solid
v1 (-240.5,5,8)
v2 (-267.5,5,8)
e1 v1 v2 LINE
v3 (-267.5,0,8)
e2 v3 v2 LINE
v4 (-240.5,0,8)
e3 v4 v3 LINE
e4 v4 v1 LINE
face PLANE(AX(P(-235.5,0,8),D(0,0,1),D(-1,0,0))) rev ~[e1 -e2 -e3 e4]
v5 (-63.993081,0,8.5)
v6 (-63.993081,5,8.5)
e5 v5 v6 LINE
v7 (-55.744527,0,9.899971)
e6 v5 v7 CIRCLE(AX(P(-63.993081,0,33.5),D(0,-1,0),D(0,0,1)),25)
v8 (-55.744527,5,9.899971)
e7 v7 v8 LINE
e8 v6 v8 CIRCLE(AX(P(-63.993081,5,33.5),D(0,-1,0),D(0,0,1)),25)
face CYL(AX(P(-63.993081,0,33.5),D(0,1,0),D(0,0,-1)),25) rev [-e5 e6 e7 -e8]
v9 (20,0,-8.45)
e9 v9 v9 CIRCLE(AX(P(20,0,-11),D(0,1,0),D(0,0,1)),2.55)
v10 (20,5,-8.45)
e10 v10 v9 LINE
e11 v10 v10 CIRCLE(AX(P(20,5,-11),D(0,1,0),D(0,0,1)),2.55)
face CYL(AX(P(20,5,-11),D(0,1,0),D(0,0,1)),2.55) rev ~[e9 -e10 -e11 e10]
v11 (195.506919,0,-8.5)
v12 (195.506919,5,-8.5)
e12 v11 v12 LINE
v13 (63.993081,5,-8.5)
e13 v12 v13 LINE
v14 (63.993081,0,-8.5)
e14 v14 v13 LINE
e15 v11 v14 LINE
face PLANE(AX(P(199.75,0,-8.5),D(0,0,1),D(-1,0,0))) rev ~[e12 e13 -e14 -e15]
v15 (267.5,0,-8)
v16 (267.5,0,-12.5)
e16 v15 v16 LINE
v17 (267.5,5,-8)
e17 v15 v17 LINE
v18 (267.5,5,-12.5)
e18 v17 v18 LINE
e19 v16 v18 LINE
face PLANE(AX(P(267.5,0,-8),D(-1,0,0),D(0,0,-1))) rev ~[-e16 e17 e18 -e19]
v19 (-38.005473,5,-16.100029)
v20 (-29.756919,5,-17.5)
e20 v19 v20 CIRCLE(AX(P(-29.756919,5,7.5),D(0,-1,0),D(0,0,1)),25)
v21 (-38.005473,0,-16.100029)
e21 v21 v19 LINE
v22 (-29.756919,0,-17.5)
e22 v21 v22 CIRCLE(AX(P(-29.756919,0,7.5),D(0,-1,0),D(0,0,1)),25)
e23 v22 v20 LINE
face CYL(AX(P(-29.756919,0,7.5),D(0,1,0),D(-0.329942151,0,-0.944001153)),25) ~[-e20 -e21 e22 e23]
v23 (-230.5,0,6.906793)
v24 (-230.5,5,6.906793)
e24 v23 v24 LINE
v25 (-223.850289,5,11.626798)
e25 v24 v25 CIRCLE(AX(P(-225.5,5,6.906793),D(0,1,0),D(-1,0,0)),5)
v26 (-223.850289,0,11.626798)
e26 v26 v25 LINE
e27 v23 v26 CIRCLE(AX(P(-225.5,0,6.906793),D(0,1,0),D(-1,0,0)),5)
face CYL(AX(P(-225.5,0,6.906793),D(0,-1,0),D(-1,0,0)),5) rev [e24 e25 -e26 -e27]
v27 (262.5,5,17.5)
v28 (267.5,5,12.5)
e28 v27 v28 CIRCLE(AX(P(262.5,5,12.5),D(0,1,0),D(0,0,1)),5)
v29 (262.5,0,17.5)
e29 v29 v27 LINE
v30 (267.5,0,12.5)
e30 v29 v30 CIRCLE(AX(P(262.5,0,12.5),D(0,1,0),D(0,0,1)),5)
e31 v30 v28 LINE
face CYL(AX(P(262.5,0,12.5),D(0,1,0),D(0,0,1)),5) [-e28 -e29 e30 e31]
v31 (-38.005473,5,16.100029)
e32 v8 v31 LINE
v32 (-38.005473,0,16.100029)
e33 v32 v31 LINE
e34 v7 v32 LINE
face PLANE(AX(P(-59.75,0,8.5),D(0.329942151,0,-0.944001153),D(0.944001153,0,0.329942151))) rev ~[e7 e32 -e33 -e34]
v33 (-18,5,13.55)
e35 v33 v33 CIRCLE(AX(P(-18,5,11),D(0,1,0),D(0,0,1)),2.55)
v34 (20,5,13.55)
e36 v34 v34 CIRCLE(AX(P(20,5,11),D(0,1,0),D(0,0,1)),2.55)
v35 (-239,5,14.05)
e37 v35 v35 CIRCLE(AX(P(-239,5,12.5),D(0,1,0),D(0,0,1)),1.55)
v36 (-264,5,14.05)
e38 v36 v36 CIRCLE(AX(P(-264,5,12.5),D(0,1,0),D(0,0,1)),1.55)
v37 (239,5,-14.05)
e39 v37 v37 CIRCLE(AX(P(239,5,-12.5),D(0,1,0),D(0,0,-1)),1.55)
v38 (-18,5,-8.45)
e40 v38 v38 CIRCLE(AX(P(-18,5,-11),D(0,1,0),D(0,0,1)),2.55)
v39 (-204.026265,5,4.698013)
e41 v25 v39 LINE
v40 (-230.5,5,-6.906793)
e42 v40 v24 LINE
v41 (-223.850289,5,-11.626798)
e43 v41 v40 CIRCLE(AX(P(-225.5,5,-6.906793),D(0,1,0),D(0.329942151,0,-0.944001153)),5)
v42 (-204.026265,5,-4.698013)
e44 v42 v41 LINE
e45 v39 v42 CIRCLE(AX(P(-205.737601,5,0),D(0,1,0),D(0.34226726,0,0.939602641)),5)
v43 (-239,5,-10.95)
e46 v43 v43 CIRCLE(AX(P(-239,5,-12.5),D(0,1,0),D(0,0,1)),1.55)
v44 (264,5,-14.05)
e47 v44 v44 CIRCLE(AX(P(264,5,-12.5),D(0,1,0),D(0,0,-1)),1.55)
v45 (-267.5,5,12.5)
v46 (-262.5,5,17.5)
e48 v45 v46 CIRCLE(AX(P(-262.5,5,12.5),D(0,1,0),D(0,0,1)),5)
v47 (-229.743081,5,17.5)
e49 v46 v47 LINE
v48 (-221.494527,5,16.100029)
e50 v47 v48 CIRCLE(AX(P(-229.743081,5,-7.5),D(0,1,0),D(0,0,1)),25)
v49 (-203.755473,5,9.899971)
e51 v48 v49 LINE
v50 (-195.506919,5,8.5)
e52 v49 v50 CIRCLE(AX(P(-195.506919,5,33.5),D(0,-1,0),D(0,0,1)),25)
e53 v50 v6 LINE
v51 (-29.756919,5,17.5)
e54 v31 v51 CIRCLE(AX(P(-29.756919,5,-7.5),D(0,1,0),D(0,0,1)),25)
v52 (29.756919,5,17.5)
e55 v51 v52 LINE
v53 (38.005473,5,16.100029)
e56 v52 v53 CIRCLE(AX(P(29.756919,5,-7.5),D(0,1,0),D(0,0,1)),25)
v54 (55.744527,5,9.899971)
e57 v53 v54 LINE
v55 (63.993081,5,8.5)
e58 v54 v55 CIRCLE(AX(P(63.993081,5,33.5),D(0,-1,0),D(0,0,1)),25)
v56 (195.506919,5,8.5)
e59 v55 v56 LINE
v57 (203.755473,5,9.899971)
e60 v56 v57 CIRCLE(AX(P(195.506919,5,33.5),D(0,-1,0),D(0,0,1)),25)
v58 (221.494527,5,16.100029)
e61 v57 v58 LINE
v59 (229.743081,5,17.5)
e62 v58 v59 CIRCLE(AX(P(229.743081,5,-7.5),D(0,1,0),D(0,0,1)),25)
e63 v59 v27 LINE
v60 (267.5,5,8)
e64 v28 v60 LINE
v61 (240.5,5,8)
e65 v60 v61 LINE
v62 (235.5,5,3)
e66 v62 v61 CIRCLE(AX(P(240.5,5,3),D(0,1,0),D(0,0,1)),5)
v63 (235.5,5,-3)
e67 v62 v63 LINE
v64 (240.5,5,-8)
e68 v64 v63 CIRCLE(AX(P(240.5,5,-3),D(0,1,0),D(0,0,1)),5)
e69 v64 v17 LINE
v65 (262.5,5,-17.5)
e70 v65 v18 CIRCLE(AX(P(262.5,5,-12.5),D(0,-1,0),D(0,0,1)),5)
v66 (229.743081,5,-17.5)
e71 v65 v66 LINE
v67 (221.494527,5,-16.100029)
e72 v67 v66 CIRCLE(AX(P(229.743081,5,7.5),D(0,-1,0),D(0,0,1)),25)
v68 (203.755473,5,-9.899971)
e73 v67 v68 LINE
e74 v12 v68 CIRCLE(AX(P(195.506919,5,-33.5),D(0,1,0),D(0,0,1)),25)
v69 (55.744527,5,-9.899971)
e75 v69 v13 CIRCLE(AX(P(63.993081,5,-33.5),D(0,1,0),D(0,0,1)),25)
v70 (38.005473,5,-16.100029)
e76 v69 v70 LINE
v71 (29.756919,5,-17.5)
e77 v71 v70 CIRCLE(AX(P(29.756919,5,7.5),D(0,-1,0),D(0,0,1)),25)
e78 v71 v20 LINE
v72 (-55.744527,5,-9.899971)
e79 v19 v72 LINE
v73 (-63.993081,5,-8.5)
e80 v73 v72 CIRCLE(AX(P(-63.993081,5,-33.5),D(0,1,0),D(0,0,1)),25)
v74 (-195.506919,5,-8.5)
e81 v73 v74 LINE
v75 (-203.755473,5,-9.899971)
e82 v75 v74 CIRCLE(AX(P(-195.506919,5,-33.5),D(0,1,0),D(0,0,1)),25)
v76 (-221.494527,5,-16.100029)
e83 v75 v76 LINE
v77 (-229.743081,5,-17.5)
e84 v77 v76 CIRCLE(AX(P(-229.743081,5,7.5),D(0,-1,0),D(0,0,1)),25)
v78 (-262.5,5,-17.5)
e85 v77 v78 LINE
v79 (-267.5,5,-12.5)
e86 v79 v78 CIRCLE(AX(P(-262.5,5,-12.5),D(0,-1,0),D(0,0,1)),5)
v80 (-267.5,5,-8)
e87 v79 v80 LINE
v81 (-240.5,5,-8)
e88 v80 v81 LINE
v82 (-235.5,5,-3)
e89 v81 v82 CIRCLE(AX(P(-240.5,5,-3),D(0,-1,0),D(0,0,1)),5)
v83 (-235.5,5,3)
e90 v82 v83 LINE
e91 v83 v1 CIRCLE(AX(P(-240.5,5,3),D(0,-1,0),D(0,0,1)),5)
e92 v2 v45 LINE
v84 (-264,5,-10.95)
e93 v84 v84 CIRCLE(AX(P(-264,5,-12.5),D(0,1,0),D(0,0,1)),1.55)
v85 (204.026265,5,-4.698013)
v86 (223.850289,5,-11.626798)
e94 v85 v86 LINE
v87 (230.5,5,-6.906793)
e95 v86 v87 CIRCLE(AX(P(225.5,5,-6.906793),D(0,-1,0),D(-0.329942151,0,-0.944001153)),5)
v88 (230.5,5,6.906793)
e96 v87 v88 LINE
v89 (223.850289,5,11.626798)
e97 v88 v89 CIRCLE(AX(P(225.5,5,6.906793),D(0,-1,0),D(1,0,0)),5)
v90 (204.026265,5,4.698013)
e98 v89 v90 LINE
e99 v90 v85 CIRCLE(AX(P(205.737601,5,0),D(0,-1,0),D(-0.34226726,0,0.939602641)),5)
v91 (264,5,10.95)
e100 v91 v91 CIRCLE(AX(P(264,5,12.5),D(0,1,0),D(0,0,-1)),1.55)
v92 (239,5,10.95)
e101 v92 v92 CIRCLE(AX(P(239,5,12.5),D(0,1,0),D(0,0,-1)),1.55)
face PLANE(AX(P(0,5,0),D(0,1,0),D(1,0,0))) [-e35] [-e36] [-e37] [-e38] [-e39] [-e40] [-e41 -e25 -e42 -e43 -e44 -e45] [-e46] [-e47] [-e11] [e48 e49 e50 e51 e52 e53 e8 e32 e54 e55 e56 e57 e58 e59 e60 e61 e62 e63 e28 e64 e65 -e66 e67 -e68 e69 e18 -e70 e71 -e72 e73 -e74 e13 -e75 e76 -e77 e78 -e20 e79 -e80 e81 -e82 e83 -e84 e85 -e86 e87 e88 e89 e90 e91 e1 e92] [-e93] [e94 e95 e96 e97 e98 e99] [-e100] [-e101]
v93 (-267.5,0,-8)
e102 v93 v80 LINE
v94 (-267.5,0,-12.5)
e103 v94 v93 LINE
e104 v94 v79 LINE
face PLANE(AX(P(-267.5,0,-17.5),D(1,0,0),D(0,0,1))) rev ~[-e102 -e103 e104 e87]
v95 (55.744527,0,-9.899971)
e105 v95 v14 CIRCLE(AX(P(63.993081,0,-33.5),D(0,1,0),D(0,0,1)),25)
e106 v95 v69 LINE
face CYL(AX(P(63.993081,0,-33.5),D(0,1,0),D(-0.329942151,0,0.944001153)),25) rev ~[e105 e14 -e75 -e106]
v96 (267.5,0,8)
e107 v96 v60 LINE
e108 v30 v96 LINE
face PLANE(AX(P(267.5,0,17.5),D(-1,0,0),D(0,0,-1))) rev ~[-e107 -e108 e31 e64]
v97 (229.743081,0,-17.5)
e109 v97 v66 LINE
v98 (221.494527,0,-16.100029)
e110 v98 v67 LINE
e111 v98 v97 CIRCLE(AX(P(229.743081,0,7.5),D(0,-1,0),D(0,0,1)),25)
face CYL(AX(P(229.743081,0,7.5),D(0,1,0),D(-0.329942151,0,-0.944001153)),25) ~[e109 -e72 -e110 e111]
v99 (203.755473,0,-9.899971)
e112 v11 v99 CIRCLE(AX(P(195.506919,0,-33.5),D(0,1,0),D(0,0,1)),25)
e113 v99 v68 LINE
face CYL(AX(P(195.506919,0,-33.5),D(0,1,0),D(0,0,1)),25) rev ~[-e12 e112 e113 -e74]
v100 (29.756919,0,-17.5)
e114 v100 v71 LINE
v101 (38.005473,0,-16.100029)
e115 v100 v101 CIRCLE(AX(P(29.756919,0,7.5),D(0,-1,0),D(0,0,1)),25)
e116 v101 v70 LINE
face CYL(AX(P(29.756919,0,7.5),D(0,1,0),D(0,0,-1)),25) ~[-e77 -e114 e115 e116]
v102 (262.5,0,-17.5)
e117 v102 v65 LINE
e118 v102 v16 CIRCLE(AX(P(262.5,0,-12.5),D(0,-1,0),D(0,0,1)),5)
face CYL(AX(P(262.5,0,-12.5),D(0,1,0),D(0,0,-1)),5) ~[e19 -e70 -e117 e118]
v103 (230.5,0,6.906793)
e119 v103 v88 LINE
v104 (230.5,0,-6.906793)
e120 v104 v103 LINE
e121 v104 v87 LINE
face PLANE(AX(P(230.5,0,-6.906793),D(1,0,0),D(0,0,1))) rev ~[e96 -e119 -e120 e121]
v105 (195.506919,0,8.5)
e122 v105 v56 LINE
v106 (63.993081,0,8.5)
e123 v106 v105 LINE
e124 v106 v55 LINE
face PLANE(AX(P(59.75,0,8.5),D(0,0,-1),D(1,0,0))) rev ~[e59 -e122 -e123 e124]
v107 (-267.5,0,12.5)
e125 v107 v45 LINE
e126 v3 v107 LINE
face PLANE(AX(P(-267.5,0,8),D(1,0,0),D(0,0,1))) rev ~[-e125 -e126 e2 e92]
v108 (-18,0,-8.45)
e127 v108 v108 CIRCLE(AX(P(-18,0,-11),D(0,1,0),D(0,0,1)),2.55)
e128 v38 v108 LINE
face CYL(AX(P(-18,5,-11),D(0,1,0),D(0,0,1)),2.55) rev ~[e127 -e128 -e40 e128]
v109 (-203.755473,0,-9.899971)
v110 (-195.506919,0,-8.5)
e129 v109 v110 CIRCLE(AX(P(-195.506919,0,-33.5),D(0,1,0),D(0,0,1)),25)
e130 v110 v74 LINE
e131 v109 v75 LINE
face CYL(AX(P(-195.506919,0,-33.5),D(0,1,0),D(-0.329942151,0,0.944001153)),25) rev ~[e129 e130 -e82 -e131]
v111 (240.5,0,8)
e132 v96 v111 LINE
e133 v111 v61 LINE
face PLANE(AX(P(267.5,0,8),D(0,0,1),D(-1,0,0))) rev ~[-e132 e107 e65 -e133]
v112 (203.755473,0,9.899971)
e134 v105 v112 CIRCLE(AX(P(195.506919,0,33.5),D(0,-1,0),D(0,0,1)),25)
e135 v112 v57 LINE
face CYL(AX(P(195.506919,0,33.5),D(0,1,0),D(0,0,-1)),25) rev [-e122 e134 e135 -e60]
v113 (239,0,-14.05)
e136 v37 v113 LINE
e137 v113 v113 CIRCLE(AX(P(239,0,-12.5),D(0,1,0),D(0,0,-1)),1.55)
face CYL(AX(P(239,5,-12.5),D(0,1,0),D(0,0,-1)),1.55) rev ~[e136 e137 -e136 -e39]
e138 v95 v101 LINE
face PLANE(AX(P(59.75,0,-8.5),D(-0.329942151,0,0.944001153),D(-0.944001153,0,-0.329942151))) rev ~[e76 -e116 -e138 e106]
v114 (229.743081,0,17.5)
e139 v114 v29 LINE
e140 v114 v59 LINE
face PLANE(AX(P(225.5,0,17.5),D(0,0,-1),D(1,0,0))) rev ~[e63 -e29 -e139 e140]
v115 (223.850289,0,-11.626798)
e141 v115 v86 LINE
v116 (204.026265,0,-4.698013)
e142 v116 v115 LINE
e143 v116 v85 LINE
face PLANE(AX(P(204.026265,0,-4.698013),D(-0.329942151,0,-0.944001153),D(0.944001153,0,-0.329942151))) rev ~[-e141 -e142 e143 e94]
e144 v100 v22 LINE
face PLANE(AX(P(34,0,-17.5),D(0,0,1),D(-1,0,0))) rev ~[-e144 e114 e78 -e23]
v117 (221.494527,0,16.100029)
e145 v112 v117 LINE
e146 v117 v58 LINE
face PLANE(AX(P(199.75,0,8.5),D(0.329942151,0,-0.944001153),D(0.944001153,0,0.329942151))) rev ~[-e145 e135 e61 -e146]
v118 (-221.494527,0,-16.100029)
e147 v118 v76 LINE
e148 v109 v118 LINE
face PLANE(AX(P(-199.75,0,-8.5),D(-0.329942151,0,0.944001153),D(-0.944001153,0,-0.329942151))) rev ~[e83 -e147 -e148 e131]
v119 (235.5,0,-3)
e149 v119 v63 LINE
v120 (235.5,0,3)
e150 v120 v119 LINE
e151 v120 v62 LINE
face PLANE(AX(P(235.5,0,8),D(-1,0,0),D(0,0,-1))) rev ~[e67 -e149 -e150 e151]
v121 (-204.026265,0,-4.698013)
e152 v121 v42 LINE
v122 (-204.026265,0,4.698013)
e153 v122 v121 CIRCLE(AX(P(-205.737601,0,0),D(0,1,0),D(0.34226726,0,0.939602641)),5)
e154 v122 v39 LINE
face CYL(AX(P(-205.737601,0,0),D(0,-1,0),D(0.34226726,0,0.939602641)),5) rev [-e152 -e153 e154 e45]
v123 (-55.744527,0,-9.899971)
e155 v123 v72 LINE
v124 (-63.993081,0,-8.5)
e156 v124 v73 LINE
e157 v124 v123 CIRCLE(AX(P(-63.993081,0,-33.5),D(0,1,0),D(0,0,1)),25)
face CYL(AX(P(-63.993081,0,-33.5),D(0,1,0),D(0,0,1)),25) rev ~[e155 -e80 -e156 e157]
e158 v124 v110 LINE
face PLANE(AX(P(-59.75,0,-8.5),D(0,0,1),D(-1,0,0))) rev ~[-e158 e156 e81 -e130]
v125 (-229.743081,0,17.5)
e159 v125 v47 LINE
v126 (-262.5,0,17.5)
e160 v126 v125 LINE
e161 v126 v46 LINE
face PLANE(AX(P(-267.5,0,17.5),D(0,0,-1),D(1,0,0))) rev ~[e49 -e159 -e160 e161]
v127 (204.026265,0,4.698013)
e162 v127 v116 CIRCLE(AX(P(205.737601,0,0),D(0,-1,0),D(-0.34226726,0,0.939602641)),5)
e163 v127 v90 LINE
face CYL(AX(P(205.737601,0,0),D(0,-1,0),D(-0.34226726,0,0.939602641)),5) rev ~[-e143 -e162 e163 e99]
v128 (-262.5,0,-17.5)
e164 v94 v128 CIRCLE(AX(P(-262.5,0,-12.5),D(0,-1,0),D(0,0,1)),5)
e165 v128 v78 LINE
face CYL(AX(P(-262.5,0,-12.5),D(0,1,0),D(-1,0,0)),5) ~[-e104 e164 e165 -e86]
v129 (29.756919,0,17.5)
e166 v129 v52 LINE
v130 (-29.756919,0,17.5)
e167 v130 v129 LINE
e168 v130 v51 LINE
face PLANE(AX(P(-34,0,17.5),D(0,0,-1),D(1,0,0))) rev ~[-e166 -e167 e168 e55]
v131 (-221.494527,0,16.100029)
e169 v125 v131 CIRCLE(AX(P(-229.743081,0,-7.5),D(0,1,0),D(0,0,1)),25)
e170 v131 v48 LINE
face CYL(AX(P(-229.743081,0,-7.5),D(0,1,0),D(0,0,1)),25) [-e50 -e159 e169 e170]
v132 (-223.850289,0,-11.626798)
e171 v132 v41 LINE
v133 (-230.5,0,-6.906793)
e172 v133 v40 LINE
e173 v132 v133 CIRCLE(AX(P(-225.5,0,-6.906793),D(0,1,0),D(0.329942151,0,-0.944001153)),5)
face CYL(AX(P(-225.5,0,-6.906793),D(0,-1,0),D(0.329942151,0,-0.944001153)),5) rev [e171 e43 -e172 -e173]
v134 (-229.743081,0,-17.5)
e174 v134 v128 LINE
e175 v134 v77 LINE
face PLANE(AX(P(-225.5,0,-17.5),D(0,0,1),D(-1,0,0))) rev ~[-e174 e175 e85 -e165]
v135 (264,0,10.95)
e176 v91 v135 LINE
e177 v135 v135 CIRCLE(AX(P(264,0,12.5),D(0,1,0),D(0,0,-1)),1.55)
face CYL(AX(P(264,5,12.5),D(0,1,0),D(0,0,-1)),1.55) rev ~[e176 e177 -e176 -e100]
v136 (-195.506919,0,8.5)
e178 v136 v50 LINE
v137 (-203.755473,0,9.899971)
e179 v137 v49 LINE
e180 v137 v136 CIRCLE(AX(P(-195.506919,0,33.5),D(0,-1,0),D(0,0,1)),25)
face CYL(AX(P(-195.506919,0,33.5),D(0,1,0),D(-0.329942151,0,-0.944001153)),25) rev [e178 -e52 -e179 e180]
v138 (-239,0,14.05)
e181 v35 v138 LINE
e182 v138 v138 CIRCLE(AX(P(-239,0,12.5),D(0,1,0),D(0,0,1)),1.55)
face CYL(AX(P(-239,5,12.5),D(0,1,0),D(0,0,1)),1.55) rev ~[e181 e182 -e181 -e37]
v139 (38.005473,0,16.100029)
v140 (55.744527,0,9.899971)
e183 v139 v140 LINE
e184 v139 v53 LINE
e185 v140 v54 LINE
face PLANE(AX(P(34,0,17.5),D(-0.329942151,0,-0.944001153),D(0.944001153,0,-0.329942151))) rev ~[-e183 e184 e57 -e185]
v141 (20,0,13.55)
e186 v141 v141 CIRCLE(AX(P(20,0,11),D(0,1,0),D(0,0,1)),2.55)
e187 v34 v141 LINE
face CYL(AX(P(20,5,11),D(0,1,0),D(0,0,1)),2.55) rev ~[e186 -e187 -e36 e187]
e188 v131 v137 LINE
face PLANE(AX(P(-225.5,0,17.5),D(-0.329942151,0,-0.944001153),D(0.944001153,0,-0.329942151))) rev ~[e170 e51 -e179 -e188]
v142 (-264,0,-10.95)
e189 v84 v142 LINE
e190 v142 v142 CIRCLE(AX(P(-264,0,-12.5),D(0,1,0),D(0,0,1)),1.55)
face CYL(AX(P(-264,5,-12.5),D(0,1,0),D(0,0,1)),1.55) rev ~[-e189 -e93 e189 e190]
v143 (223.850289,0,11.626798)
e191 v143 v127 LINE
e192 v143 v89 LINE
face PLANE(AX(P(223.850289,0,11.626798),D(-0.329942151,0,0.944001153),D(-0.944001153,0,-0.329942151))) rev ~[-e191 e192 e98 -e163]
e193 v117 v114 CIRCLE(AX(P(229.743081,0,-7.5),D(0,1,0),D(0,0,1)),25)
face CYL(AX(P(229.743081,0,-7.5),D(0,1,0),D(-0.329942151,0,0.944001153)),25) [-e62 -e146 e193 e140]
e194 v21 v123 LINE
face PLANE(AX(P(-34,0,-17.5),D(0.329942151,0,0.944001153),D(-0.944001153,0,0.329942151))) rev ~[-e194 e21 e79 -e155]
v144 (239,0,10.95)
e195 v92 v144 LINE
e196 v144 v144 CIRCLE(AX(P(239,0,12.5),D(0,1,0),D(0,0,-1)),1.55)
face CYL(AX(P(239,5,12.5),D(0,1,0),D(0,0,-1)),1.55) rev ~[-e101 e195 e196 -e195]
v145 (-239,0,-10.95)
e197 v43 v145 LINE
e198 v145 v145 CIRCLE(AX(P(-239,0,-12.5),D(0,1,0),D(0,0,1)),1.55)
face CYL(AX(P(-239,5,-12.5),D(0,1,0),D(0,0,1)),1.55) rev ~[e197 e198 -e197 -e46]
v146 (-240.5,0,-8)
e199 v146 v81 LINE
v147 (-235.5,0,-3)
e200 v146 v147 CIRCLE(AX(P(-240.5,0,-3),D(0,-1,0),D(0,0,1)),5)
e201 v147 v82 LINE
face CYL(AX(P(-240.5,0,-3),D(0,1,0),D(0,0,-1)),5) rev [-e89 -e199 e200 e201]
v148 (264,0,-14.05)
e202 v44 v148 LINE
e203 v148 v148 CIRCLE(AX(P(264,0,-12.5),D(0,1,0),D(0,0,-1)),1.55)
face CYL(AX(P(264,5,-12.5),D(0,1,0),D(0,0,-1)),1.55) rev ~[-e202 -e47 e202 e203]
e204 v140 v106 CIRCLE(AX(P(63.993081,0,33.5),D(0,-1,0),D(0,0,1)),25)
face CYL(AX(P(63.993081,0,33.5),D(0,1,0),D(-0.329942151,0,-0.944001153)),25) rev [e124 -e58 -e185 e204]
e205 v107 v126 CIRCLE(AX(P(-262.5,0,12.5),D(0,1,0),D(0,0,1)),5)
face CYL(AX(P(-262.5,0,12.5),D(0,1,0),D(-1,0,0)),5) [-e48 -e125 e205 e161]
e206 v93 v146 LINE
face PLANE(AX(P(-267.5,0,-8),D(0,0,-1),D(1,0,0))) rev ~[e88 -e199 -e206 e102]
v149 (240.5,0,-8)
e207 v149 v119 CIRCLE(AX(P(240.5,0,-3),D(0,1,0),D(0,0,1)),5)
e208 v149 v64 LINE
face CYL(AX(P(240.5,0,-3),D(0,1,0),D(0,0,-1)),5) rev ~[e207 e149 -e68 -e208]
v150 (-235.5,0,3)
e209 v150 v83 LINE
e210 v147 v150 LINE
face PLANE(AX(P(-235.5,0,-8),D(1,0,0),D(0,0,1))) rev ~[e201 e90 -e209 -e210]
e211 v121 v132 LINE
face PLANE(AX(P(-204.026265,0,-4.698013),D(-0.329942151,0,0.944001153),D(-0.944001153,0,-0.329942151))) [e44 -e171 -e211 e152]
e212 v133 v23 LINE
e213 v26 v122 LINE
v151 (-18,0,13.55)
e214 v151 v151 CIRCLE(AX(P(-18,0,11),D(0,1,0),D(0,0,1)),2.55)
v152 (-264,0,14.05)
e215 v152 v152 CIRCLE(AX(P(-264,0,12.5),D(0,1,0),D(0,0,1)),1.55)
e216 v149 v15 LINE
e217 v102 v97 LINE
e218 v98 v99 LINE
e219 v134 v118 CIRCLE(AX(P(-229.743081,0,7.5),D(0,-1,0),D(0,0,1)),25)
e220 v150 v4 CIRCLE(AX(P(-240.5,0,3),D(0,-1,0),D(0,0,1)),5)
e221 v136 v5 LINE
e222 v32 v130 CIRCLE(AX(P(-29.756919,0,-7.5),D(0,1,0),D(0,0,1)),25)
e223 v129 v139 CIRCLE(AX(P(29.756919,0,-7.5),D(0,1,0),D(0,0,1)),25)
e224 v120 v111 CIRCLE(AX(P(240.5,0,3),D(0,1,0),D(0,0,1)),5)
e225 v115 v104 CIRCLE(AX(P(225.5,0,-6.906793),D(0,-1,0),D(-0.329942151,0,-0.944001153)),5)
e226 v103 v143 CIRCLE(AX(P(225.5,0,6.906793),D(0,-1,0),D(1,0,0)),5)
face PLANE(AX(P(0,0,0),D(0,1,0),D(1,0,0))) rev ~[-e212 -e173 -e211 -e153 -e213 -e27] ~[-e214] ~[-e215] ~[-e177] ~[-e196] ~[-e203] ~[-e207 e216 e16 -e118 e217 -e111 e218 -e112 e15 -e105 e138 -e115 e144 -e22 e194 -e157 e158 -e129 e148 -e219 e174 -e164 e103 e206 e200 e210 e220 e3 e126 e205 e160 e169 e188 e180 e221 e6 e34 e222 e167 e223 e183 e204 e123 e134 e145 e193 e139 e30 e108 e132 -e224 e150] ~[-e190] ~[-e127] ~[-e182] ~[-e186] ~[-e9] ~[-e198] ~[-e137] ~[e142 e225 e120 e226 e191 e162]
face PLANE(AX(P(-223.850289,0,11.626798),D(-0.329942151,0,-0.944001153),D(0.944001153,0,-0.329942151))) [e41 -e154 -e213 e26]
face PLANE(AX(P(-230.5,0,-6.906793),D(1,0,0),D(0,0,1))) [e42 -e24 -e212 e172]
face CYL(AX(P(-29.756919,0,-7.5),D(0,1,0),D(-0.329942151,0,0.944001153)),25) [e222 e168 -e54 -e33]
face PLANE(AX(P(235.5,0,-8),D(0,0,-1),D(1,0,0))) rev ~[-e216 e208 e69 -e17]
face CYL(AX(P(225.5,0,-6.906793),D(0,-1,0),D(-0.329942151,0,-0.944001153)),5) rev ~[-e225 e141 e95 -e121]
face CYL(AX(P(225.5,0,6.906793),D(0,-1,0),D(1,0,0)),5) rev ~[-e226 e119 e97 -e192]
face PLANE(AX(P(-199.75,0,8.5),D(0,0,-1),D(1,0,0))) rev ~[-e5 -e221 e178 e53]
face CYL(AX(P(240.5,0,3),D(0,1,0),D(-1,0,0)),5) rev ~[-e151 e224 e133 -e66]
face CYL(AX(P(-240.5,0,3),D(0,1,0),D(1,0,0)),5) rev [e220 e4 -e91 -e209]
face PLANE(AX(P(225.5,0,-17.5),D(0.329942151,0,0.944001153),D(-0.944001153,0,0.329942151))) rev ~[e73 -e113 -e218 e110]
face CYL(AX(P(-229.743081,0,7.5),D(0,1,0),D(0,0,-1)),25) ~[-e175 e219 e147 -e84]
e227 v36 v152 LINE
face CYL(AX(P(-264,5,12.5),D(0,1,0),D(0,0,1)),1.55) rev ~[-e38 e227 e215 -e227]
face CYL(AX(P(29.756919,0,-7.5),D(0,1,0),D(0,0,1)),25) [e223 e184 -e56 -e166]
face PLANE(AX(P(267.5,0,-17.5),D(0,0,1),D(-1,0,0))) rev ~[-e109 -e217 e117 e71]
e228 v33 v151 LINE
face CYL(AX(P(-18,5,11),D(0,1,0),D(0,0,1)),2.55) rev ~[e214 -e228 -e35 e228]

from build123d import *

# Parameters (mm, degrees)
SALIENTE_EXTRUIR1_DEPTH = 5
REDONDEO1_R             = 5
CROQUIS3_R              = 1.55
CROQUIS3_R_2            = 2.55
CORTAR_EXTRUIR1_DEPTH   = 269.118443976
REDONDEO3_R             = 25


with BuildPart() as part:
    # Croquis2 → Saliente-Extruir1 (new body)
    with BuildSketch(Plane(origin=(0, 0, 0), x_dir=(1, 0, 0), z_dir=(0, 1, 0))):
        Polygon((-267.5, 8), (-235.5, 8), (-235.5, -8), (-267.5, -8), (-267.5, -17.5), (-225.5, -17.5), (-199.75, -8.5), (-59.75, -8.5), (-34, -17.5), (34, -17.5), (59.75, -8.5), (199.75, -8.5), (225.5, -17.5), (267.5, -17.5), (267.5, -8), (235.5, -8), (235.5, 8), (267.5, 8), (267.5, 17.5), (225.5, 17.5), (199.75, 8.5), (59.75, 8.5), (34, 17.5), (-34, 17.5), (-59.75, 8.5), (-199.75, 8.5), (-225.5, 17.5), (-267.5, 17.5), align=None)
        with BuildLine():
            Line((-204.02626503, 4.698013204), (-223.850289247, 11.626798368))
            ThreePointArc((-223.850289247, 11.626798368), (-228.394084159, 10.984080534), (-230.5, 6.906792602))
            Line((-230.5, 6.906792602), (-230.5, -6.906792602))
            ThreePointArc((-230.5, -6.906792602), (-228.394084159, -10.984080534), (-223.850289247, -11.626798368))
            Line((-223.850289247, -11.626798368), (-204.02626503, -4.698013204))
            ThreePointArc((-204.02626503, -4.698013204), (-200.737601329, 0), (-204.02626503, 4.698013204))
        make_face(mode=Mode.SUBTRACT)
        with BuildLine():
            Line((204.02626503, 4.698013204), (223.850289247, 11.626798368))
            ThreePointArc((223.850289247, 11.626798368), (228.394084159, 10.984080534), (230.5, 6.906792602))
            Line((230.5, 6.906792602), (230.5, -6.906792602))
            ThreePointArc((230.5, -6.906792602), (228.394084159, -10.984080534), (223.850289247, -11.626798368))
            Line((223.850289247, -11.626798368), (204.02626503, -4.698013204))
            ThreePointArc((204.02626503, -4.698013204), (200.737601329, 0), (204.02626503, 4.698013204))
        make_face(mode=Mode.SUBTRACT)
    extrude(amount=SALIENTE_EXTRUIR1_DEPTH)

    # Redondeo1
    redondeo1_edges = [part.edges().sort_by_distance(p)[0] for p in [
        (235.5, 2.5, -8),
        (235.5, 2.5, 8),
        (267.5, 2.5, 17.5),
        (-267.5, 2.5, 17.5),
        (-235.5, 2.5, 8),
        (-235.5, 2.5, -8),
        (-267.5, 2.5, -17.5),
        (267.5, 2.5, -17.5),
    ]]
    fillet(redondeo1_edges, radius=REDONDEO1_R)

    # Croquis3 → Cortar-Extruir1 (cut, through all)
    with BuildSketch(Plane(origin=(0, 5, 0), x_dir=(1, 0, 0), z_dir=(0, 1, 0))):
        with Locations(Location((-264, -12.5, 0), (0, 0, 270))):
            Circle(CROQUIS3_R)
        with Locations(Location((-239, -12.5, 0), (0, 0, 270))):
            Circle(CROQUIS3_R)
        with Locations(Location((-239, 12.5, 0), (0, 0, 270))):
            Circle(CROQUIS3_R)
        with Locations(Location((-264, 12.5, 0), (0, 0, 270))):
            Circle(CROQUIS3_R)
        with Locations(Location((264, 12.5, 0), (0, 0, 90))):
            Circle(CROQUIS3_R)
        with Locations(Location((239, 12.5, 0), (0, 0, 90))):
            Circle(CROQUIS3_R)
        with Locations(Location((239, -12.5, 0), (0, 0, 90))):
            Circle(CROQUIS3_R)
        with Locations(Location((264, -12.5, 0), (0, 0, 90))):
            Circle(CROQUIS3_R)
        with Locations(Location((-18, -11, 0), (0, 0, 270))):
            Circle(CROQUIS3_R_2)
        with Locations(Location((20, -11, 0), (0, 0, 270))):
            Circle(CROQUIS3_R_2)
        with Locations(Location((20, 11, 0), (0, 0, 270))):
            Circle(CROQUIS3_R_2)
        with Locations(Location((-18, 11, 0), (0, 0, 270))):
            Circle(CROQUIS3_R_2)
    extrude(amount=-CORTAR_EXTRUIR1_DEPTH, mode=Mode.SUBTRACT)

    # Redondeo3
    redondeo3_edges = [part.edges().sort_by_distance(p)[0] for p in [
        (225.5, 2.5, 17.5),
        (199.75, 2.5, 8.5),
        (59.75, 2.5, 8.5),
        (34, 2.5, 17.5),
        (-34, 2.5, 17.5),
        (-59.75, 2.5, 8.5),
        (-199.75, 2.5, 8.5),
        (-225.5, 2.5, 17.5),
        (-225.5, 2.5, -17.5),
        (-199.75, 2.5, -8.5),
        (-59.75, 2.5, -8.5),
        (-34, 2.5, -17.5),
        (34, 2.5, -17.5),
        (59.75, 2.5, -8.5),
        (199.75, 2.5, -8.5),
        (225.5, 2.5, -17.5),
    ]]
    fillet(redondeo3_edges, radius=REDONDEO3_R)


solid = part.part
